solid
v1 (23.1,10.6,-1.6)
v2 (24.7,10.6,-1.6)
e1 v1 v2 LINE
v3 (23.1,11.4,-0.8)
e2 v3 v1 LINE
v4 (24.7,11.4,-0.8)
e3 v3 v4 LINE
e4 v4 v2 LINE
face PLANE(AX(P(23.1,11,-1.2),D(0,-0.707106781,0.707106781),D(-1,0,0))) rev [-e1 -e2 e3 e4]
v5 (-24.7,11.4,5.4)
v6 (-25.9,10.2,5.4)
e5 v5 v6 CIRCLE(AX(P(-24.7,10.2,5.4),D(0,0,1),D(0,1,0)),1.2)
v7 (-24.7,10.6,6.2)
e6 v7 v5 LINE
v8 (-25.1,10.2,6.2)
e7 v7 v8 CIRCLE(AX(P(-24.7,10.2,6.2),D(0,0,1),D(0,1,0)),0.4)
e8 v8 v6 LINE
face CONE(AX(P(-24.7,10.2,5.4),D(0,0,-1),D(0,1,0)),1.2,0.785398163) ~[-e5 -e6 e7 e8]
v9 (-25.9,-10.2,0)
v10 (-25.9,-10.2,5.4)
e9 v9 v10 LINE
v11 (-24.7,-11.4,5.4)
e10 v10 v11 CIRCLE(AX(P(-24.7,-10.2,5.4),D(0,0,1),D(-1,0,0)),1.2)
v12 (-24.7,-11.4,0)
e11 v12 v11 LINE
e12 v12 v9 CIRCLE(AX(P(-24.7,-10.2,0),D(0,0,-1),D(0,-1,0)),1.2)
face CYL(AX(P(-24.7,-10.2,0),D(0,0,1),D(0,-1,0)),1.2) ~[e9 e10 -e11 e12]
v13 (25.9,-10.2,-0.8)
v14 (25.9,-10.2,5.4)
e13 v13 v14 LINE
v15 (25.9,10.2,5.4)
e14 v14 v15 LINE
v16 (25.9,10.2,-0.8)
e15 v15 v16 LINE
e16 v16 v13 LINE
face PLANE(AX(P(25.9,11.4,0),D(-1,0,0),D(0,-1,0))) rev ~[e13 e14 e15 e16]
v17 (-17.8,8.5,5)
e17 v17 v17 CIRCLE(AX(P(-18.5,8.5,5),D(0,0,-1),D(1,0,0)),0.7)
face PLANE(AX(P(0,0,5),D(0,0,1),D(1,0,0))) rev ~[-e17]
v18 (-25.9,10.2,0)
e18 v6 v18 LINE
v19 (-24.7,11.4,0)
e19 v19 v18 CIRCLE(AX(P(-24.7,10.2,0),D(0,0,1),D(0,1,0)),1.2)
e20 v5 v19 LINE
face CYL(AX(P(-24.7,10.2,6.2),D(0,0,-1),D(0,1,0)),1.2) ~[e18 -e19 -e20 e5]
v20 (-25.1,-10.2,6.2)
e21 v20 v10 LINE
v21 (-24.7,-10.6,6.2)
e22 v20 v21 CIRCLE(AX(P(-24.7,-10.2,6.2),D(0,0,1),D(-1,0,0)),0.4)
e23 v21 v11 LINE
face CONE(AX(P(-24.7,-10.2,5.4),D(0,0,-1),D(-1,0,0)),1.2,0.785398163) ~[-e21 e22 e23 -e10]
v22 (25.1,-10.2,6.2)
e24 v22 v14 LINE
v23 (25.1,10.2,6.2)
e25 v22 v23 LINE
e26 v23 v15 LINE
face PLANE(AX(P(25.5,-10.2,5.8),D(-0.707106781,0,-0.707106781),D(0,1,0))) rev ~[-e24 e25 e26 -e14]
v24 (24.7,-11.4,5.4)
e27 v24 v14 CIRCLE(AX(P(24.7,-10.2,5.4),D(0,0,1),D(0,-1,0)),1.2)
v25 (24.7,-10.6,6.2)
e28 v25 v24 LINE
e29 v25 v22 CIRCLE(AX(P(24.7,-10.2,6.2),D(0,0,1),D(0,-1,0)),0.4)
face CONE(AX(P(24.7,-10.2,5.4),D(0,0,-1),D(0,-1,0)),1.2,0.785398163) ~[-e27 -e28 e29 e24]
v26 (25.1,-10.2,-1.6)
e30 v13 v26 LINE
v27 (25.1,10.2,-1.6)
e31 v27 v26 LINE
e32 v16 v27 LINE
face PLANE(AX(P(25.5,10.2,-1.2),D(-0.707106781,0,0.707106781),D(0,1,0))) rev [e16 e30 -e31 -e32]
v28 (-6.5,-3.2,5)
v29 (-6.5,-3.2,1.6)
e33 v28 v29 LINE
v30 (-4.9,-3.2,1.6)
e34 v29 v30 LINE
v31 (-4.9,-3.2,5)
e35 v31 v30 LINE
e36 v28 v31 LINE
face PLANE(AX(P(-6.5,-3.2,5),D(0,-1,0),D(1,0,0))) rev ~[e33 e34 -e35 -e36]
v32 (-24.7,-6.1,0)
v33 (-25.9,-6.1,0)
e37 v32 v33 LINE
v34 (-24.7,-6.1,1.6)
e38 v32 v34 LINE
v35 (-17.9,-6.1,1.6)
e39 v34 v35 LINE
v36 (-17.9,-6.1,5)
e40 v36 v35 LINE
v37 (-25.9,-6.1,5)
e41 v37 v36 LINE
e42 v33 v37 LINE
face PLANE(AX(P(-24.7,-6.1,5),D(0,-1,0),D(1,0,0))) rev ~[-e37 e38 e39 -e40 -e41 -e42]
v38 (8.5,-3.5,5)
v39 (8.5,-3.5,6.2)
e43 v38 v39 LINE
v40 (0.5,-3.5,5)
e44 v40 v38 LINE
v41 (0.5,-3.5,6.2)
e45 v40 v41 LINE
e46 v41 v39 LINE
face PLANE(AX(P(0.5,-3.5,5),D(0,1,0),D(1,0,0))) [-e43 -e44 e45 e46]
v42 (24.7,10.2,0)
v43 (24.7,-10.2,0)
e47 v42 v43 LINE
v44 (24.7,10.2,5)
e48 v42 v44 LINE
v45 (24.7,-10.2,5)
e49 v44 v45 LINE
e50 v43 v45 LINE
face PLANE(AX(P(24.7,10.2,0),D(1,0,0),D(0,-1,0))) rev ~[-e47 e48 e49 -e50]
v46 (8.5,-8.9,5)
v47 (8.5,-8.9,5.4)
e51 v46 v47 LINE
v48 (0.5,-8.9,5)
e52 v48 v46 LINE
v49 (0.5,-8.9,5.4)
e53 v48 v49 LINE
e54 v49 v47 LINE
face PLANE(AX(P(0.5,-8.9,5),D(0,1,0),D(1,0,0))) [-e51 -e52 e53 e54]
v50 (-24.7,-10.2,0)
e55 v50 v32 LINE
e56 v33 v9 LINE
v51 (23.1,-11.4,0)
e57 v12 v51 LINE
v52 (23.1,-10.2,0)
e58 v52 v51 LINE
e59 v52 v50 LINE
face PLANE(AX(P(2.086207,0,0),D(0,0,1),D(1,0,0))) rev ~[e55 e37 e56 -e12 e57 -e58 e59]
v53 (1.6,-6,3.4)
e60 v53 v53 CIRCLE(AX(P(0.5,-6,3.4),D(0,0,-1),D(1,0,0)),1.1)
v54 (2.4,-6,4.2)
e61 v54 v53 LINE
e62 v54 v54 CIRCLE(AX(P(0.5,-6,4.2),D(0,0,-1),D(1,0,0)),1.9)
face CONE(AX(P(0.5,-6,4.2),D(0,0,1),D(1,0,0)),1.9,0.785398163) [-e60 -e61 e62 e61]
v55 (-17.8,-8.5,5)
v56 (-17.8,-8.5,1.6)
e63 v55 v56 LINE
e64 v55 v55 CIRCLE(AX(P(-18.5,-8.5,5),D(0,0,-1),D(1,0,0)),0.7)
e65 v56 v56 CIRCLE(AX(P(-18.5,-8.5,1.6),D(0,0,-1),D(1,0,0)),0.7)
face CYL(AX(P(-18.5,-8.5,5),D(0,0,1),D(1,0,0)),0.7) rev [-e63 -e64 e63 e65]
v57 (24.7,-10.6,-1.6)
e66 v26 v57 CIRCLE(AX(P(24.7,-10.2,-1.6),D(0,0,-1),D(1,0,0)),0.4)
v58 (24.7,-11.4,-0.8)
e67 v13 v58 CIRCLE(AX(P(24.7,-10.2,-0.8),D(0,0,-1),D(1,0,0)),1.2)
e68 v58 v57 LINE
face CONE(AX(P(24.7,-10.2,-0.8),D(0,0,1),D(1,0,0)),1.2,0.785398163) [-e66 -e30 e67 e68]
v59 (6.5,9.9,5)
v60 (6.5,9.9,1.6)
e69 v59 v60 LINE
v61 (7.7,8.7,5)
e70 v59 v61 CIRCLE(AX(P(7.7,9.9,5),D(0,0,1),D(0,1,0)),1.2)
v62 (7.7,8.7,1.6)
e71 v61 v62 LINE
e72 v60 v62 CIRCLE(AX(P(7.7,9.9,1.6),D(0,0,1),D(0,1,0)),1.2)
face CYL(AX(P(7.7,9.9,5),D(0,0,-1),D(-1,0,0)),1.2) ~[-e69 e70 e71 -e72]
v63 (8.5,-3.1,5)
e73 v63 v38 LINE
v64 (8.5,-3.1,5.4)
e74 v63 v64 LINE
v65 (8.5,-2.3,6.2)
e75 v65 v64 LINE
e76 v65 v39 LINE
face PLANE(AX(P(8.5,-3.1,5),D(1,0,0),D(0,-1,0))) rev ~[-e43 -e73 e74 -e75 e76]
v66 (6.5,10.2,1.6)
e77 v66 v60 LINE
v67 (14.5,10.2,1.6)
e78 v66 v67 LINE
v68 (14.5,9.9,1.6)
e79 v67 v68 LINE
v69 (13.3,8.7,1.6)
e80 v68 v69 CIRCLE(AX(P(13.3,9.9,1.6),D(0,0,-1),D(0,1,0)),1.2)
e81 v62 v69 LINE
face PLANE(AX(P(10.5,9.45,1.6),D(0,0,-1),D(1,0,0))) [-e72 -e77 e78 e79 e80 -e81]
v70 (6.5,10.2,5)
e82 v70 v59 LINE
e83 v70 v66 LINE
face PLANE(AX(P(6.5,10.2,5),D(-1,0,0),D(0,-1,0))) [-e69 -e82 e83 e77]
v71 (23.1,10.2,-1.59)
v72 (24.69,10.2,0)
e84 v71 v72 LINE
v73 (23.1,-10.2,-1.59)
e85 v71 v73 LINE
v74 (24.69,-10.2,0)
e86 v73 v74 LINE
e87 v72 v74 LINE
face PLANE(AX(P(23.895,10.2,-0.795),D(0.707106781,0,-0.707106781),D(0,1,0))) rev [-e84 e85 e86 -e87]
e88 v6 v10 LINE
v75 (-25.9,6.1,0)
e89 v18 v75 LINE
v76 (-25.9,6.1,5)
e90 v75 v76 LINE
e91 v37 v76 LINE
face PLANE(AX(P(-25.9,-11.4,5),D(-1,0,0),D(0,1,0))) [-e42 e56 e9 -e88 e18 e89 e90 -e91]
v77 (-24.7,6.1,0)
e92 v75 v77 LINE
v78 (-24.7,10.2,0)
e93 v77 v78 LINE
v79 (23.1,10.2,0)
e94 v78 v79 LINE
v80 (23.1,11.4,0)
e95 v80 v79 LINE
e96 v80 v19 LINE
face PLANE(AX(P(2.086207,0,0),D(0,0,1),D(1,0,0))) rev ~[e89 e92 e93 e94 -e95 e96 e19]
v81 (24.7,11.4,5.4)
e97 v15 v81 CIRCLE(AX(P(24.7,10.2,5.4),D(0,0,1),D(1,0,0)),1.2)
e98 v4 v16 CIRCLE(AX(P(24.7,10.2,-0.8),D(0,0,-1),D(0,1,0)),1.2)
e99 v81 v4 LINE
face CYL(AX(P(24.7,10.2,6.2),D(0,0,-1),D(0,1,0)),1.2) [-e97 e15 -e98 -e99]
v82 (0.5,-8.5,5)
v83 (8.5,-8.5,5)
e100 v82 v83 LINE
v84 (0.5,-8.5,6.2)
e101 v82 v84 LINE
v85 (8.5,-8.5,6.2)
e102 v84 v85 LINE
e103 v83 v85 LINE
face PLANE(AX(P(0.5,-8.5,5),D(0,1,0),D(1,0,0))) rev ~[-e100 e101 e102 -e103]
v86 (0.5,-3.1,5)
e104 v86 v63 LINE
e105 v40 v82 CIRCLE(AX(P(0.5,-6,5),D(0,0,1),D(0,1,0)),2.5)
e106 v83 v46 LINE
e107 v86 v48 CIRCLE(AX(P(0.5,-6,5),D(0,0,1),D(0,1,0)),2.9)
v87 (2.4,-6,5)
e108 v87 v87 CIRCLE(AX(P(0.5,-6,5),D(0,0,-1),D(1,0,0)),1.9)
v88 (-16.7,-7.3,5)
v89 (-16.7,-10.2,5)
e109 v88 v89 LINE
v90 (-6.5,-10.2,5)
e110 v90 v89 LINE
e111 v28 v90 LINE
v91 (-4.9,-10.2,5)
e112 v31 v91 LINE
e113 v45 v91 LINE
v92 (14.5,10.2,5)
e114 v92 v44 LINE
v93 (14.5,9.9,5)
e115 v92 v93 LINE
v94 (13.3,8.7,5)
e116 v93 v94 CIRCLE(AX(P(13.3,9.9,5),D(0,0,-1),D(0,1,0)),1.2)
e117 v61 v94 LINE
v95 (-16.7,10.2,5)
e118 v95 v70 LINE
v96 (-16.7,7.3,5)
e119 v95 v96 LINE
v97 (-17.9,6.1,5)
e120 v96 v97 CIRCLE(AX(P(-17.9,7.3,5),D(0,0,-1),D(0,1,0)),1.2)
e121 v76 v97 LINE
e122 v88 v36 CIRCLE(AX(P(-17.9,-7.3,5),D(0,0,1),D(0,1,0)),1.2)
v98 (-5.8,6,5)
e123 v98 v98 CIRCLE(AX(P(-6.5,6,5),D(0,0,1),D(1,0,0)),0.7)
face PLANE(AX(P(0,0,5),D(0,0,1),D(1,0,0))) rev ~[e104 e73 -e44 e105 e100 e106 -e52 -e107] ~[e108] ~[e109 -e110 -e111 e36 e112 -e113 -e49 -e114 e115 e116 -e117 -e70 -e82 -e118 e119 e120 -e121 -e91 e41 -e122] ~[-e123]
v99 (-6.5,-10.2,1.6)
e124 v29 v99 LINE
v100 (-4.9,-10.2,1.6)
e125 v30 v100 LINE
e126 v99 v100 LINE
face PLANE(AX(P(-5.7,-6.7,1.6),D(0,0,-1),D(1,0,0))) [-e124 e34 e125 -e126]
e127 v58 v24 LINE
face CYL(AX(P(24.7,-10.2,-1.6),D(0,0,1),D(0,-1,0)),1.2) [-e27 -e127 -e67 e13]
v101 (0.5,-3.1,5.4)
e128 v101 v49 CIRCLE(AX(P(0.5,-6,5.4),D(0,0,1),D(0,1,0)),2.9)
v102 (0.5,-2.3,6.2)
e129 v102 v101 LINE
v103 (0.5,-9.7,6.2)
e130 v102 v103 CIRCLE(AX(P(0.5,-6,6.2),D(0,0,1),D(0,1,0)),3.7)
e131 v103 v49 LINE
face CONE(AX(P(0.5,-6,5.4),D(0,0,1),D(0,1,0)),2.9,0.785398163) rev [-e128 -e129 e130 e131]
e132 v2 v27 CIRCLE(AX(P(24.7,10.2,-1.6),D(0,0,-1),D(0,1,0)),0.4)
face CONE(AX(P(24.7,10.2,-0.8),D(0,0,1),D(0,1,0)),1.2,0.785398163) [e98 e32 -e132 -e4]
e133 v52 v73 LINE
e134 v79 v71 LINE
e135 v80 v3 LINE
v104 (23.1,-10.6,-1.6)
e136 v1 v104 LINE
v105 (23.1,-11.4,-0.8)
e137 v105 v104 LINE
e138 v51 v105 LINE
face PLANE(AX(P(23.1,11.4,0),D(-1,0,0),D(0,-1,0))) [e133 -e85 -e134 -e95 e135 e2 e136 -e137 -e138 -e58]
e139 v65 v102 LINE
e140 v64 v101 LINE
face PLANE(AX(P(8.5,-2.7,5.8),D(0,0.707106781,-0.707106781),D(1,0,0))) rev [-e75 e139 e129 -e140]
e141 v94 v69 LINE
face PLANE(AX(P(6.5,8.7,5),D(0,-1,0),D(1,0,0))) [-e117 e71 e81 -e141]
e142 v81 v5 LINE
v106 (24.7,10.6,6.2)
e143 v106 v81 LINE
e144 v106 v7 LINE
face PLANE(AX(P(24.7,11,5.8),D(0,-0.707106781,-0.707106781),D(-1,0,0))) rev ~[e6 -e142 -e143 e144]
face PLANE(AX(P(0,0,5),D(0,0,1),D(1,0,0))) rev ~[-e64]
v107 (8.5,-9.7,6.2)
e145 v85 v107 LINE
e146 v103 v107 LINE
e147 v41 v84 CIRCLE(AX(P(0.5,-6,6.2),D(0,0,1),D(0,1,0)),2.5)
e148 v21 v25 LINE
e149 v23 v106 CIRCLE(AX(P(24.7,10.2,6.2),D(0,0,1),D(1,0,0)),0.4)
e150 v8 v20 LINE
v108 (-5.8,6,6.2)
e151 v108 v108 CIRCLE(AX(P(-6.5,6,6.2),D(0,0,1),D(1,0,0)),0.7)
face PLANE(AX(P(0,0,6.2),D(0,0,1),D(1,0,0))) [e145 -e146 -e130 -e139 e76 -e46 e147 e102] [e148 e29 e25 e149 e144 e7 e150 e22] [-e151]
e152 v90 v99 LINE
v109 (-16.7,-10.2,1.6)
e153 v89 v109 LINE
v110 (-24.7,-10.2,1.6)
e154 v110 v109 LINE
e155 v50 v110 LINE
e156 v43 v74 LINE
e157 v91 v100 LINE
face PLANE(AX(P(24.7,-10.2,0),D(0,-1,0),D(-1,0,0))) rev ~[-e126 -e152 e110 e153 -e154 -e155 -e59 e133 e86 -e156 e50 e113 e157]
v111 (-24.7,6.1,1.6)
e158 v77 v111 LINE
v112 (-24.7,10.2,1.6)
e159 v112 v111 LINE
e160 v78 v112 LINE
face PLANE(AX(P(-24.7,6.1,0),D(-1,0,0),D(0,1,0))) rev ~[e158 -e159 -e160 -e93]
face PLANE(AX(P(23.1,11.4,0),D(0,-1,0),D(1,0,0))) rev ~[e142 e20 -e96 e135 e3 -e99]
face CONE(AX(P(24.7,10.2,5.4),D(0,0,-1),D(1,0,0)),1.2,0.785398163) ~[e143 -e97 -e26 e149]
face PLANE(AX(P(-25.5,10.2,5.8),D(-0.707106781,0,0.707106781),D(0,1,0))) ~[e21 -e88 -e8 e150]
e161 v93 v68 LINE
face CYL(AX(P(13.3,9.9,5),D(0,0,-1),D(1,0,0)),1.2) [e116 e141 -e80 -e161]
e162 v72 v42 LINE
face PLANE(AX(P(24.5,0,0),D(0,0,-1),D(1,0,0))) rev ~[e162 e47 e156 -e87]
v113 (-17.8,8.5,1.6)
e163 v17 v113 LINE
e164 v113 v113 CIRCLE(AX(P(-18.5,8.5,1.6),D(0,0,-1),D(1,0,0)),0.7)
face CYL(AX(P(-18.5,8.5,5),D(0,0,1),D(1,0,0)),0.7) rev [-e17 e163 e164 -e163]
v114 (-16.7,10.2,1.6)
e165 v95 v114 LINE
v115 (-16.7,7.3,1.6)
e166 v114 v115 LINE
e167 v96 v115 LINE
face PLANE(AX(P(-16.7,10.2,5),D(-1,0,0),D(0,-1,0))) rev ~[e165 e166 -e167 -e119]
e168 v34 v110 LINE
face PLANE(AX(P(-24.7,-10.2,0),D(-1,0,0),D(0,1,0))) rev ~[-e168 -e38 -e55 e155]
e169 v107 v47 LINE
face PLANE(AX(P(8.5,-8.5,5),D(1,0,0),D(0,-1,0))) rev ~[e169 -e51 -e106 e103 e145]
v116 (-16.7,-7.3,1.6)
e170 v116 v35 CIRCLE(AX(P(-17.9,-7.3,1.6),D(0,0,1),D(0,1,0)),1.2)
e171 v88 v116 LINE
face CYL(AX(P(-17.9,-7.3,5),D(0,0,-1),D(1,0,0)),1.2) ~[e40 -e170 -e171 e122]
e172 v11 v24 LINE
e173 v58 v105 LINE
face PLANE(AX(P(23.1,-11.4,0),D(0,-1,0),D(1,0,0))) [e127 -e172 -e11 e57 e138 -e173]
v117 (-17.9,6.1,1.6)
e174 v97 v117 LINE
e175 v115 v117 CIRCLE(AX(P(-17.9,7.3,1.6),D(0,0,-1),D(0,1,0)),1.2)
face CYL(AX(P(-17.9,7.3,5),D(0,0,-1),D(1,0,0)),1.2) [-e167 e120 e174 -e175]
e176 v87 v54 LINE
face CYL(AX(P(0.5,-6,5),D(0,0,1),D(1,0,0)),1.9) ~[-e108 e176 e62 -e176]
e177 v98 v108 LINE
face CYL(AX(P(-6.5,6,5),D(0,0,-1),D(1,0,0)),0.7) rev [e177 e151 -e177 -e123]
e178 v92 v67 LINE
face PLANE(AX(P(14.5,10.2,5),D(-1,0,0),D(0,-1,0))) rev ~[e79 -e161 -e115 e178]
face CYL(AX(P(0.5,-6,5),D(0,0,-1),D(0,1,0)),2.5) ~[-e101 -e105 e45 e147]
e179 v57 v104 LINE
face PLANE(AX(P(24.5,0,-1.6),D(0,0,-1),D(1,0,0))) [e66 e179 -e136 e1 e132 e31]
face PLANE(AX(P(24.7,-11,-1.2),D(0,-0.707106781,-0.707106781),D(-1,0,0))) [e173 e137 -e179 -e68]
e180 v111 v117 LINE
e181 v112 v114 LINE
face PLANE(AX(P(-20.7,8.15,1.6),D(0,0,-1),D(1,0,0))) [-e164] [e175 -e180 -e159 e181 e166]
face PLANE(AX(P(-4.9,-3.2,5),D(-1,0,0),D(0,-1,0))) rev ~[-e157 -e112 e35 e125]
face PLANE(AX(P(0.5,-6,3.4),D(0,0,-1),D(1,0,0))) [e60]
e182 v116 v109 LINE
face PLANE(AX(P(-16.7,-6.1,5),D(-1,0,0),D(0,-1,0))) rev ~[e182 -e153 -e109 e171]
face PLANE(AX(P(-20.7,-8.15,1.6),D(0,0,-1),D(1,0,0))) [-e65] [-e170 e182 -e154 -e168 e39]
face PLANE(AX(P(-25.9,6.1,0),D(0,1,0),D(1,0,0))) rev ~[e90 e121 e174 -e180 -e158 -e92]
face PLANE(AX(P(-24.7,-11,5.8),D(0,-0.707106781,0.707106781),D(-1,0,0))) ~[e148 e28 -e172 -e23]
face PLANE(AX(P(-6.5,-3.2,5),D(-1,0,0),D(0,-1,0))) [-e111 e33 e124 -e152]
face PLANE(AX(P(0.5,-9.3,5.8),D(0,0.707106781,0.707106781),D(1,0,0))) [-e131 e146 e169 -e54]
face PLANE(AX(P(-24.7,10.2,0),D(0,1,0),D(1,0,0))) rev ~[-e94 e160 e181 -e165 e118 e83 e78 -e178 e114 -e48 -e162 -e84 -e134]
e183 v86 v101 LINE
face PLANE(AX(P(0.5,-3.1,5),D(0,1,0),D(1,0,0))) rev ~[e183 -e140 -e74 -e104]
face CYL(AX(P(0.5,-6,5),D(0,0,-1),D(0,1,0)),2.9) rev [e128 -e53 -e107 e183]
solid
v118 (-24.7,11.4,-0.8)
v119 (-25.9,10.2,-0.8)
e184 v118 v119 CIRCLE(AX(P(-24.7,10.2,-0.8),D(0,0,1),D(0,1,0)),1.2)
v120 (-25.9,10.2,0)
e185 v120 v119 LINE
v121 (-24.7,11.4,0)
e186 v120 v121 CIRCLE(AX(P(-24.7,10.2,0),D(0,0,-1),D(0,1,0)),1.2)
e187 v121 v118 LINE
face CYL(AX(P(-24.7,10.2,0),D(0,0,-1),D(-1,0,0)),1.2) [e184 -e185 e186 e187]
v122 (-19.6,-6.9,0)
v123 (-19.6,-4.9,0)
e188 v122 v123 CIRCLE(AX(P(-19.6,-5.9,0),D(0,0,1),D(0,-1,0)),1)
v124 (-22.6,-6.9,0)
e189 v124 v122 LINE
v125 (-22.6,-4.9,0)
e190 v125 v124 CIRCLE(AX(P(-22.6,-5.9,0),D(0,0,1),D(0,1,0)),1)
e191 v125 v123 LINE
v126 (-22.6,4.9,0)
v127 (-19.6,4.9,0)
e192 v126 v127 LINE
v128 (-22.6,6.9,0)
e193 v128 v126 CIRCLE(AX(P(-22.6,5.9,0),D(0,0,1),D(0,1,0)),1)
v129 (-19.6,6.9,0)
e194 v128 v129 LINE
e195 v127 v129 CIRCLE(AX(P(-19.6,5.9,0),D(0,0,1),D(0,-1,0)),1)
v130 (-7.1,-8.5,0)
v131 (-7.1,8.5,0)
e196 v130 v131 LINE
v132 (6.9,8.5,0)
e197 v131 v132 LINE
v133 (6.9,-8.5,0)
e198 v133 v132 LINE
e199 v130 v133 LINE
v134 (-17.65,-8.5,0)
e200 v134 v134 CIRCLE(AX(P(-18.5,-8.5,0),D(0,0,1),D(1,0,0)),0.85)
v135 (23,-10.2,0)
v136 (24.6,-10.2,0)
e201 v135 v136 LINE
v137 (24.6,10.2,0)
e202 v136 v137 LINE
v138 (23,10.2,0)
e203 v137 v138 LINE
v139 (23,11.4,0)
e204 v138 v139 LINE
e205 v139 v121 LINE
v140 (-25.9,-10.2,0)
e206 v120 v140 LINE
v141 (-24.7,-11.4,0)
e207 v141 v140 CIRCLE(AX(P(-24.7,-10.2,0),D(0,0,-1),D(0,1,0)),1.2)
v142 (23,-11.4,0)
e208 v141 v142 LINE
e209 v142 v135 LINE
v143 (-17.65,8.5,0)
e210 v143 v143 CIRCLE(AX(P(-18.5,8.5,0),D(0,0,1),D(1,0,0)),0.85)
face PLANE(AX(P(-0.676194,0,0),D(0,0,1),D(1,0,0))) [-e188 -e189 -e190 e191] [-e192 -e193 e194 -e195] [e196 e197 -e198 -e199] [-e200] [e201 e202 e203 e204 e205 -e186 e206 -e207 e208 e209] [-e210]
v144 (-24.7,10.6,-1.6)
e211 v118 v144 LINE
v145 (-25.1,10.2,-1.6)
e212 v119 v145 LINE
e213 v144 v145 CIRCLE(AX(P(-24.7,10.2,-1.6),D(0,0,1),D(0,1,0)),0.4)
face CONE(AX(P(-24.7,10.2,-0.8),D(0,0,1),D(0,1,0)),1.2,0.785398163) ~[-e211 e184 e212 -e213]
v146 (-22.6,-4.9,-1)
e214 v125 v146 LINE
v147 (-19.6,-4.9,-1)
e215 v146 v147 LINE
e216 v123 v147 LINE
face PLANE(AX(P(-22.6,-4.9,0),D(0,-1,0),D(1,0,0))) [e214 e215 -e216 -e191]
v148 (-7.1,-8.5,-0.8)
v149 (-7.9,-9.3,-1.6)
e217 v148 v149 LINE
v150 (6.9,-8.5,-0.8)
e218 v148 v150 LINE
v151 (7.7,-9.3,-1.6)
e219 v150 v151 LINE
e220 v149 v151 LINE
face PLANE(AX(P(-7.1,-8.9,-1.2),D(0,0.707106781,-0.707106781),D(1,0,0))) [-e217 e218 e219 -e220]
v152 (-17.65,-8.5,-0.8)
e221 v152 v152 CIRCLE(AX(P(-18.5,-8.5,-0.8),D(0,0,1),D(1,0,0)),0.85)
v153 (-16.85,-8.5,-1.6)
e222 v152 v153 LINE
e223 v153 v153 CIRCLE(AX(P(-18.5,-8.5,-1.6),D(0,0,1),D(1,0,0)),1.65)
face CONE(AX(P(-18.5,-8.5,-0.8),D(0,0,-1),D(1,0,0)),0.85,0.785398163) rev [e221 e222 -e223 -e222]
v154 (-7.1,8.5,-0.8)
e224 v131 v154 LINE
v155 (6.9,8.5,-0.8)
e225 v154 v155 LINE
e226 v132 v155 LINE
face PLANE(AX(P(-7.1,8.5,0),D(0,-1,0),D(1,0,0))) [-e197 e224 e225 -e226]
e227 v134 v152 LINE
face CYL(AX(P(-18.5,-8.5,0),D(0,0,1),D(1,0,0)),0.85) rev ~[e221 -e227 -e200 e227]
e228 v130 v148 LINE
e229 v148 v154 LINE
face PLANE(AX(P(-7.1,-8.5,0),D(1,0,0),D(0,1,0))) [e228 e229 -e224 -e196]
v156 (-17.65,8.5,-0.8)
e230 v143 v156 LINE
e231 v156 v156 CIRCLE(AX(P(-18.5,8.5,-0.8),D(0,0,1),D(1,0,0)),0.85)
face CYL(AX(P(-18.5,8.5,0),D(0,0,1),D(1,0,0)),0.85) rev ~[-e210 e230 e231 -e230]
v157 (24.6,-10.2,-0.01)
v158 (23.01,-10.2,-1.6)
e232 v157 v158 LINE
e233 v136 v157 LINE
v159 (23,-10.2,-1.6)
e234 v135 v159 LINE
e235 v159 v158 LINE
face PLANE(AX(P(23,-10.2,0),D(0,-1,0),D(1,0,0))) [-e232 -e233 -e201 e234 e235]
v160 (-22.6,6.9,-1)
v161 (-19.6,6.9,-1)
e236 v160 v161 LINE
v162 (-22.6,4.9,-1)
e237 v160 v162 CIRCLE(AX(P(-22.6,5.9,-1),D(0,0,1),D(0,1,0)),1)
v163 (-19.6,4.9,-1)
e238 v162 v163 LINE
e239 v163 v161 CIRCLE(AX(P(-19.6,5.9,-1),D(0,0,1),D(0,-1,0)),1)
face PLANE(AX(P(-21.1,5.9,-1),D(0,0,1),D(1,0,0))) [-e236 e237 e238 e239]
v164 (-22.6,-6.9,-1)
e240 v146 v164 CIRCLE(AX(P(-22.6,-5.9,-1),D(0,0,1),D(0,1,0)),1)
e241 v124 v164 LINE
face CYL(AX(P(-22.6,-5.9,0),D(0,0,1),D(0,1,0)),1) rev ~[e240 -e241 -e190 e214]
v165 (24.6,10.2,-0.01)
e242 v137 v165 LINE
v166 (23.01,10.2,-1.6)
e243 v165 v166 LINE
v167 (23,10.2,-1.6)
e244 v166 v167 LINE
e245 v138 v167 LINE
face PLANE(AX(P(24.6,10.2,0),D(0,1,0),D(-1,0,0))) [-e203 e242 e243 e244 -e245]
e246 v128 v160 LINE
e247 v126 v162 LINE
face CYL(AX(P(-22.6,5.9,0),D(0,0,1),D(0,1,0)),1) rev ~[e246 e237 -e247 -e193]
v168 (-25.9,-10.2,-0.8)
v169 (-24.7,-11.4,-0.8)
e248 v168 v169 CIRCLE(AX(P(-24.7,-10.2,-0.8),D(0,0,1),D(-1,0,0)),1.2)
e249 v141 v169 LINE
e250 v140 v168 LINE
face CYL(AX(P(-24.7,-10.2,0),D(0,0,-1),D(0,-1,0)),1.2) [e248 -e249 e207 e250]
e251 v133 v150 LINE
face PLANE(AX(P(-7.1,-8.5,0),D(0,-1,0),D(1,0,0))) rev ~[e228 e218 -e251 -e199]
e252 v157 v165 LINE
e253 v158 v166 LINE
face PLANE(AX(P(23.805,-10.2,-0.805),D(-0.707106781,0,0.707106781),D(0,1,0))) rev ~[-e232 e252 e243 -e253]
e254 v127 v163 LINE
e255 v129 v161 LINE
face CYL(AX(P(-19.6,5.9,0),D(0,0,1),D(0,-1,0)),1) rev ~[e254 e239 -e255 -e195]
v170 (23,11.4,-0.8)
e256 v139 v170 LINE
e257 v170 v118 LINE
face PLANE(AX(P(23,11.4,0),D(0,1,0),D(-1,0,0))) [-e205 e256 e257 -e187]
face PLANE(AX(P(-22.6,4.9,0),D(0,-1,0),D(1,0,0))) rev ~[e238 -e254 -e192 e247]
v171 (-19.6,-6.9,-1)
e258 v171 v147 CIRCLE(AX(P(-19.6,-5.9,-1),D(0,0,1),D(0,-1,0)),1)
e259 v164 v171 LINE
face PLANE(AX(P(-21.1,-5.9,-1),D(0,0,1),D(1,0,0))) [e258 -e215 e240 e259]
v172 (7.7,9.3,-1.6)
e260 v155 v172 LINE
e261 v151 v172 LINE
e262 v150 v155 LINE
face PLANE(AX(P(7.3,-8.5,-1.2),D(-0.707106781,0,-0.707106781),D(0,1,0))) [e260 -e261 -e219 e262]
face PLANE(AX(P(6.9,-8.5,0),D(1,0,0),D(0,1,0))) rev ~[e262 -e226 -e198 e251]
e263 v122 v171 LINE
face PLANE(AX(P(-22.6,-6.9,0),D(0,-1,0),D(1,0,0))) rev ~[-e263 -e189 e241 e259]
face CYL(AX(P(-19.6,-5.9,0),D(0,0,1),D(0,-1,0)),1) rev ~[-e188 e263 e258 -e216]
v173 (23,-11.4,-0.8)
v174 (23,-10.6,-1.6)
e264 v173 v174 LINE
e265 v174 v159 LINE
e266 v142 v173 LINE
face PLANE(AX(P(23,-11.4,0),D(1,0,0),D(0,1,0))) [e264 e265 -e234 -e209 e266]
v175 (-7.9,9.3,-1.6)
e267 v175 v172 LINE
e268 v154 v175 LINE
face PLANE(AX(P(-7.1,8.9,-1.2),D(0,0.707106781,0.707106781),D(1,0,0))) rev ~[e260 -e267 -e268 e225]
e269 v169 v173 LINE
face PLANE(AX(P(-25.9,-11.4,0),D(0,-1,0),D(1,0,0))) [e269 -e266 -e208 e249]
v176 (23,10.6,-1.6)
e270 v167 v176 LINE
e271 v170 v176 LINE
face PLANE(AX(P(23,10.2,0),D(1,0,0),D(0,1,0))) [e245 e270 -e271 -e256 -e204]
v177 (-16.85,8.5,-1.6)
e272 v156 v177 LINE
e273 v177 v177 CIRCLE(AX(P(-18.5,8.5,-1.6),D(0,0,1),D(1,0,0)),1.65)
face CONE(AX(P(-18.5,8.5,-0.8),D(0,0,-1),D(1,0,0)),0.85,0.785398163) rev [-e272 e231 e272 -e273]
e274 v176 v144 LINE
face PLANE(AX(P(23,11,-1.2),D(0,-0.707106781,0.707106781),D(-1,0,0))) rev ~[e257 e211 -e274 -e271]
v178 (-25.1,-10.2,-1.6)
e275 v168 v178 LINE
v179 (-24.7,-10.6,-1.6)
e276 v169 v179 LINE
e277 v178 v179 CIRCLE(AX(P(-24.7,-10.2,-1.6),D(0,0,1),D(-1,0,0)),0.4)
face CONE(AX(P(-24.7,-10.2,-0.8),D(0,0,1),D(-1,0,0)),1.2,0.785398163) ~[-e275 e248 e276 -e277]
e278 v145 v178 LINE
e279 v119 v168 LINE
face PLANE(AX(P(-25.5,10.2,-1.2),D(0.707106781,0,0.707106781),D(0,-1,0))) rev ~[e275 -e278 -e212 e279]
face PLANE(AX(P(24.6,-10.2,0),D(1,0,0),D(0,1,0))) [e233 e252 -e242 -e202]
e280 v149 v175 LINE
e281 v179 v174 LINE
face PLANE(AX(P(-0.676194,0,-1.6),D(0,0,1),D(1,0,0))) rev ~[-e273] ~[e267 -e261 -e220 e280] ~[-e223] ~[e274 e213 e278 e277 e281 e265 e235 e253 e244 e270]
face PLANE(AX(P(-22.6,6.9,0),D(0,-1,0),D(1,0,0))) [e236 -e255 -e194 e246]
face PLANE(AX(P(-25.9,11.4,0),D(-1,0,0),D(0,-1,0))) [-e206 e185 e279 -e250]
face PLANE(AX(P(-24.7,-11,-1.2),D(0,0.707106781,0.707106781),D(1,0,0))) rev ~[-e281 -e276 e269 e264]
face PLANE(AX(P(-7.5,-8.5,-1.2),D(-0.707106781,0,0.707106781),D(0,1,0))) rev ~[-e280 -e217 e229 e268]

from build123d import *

# Parameters (mm, degrees)
PAD_DEPTH       = 5
SKETCH001_W     = 51.8
SKETCH001_H     = 22.8
SKETCH001_R     = 0.7
PAD001_DEPTH    = 1.2
SKETCH002_W     = 8
SKETCH002_H     = 4.1
SKETCH002_R     = 0.7
SKETCH002_H_2   = 1.5
SKETCH002_W_2   = 1.6
SKETCH002_H_3   = 7
PAD002_DEPTH    = 3.4
SKETCH003_R     = 1.9
PAD003_DEPTH    = 1.6
SKETCH004_W     = 2.8
SKETCH004_H     = 22.8
PAD004_DEPTH    = 1.6
CHAMFER_SIZE    = 1.59
FILLET001_R     = 1.2
CHAMFER003_SIZE = 0.8
SKETCH005_R     = 0.85
SKETCH005_W     = 14
SKETCH005_H     = 17
PAD005_DEPTH    = 1.6
CHAMFER001_SIZE = 1.59
POCKET_DEPTH    = 1
FILLET_R        = 1.2
CHAMFER004_SIZE = 0.8


with BuildPart() as hat:
    # Sketch → Pad (new body)
    with BuildSketch(Plane.XY):
        Polygon((-25.9, 6.1), (-24.7, 6.1), (-24.7, 10.2), (24.7, 10.2), (24.7, -10.2), (-24.7, -10.2), (-24.7, -6.1), (-25.9, -6.1), (-25.9, -11.4), (25.9, -11.4), (25.9, 11.4), (-25.9, 11.4), align=None)
    extrude(amount=PAD_DEPTH)

    # Sketch001 (on Face14 of Pad) → Pad001 (join)
    with BuildSketch(Plane.XY.offset(5)):
        Rectangle(SKETCH001_W, SKETCH001_H)
        with Locations((-6.5, 6)):
            Circle(SKETCH001_R, mode=Mode.SUBTRACT)
        with BuildLine():
            ThreePointArc((0.5, -3.5), (-2, -6), (0.5, -8.5))
            Line((0.5, -8.5), (8.5, -8.5))
            Line((8.5, -8.5), (8.5, -8.9))
            Line((0.5, -8.9), (8.5, -8.9))
            ThreePointArc((0.5, -3.1), (-2.4, -6), (0.5, -8.9))
            Line((0.5, -3.1), (8.5, -3.1))
            Line((8.5, -3.1), (8.5, -3.5))
            Line((0.5, -3.5), (8.5, -3.5))
        make_face(mode=Mode.SUBTRACT)
    extrude(amount=PAD001_DEPTH)

    # Sketch002 (on Face4 of Pad001) → Pad002 (join)
    with BuildSketch(Plane(origin=(0, 0, 5), x_dir=(1, 0, 0), z_dir=(0, 0, -1))):
        with Locations((-20.7, 8.15)):
            Rectangle(SKETCH002_W, SKETCH002_H)
        with Locations((-18.5, 8.5)):
            Circle(SKETCH002_R, mode=Mode.SUBTRACT)
        with Locations((-20.7, -8.15)):
            Rectangle(SKETCH002_W, SKETCH002_H)
        with Locations((-18.5, -8.5)):
            Circle(SKETCH002_R, mode=Mode.SUBTRACT)
        with Locations((10.5, -9.45)):
            Rectangle(SKETCH002_W, SKETCH002_H_2)
        with Locations((-5.7, 6.7)):
            Rectangle(SKETCH002_W_2, SKETCH002_H_3)
    extrude(amount=PAD002_DEPTH)

    # Sketch003 (on Face4 of Pad002) → Pad003 (join)
    with BuildSketch(Plane(origin=(0, 0, 5), x_dir=(1, 0, 0), z_dir=(0, 0, -1))):
        with Locations((0.5, 6)):
            Circle(SKETCH003_R)
    extrude(amount=PAD003_DEPTH)

    # Sketch004 (on Face2 of Pad003) → Pad004 (join)
    with BuildSketch(Plane(origin=(0, 0, 0), x_dir=(1, 0, 0), z_dir=(0, 0, -1))):
        with Locations((24.5, 0)):
            Rectangle(SKETCH004_W, SKETCH004_H)
    extrude(amount=PAD004_DEPTH)

    # Chamfer
    chamfer_edges = [hat.edges().sort_by_distance(p)[0] for p in [
        (23.1, 0, 0),
    ]]
    chamfer(chamfer_edges, length=CHAMFER_SIZE)

    # Fillet001
    fillet001_edges = [hat.edges().sort_by_distance(p)[0] for p in [
        (-25.9, 11.4, 3.1),
        (25.9, 11.4, 2.3),
        (25.9, -11.4, 2.3),
        (-25.9, -11.4, 3.1),
        (-16.7, -6.1, 3.3),
        (-16.7, 6.1, 3.3),
        (6.5, 8.7, 3.3),
        (14.5, 8.7, 3.3),
    ]]
    fillet(fillet001_edges, radius=FILLET001_R)

    # Chamfer003
    chamfer003_edges = [hat.edges().sort_by_distance(p)[0] for p in [
        (0, -11.4, 6.2),
        (-25.548528, -11.048528, 6.2),
        (-25.9, 0, 6.2),
        (-25.548528, 11.048528, 6.2),
        (0, 11.4, 6.2),
        (25.548528, 11.048528, 6.2),
        (25.9, 0, 6.2),
        (25.548528, -11.048528, 6.2),
        (4.5, -8.9, 6.2),
        (-2.4, -6, 6.2),
        (4.5, -3.1, 6.2),
        (23.9, 11.4, -1.6),
        (25.548528, 11.048528, -1.6),
        (25.9, 0, -1.6),
        (23.9, -11.4, -1.6),
        (25.548528, -11.048528, -1.6),
        (-1.4, -6, 3.4),
    ]]
    chamfer(chamfer003_edges, length=CHAMFER003_SIZE)


with BuildPart() as plate:
    # Sketch005 → Pad005 (new body)
    with BuildSketch(Plane.XY):
        Polygon((-25.9, -11.4), (23, -11.4), (23, -10.2), (24.6, -10.2), (24.6, 10.2), (23, 10.2), (23, 11.4), (-25.9, 11.4), align=None)
        with Locations((-18.5, 8.5)):
            Circle(SKETCH005_R, mode=Mode.SUBTRACT)
        with Locations((-18.5, -8.5)):
            Circle(SKETCH005_R, mode=Mode.SUBTRACT)
        with Locations((-0.1, 0)):
            Rectangle(SKETCH005_W, SKETCH005_H, mode=Mode.SUBTRACT)
    extrude(amount=-PAD005_DEPTH)

    # Chamfer001
    chamfer001_edges = [plate.edges().sort_by_distance(p)[0] for p in [
        (24.6, 0, -1.6),
    ]]
    chamfer(chamfer001_edges, length=CHAMFER001_SIZE)

    # Sketch006 (on Face4 of Chamfer001) → Pocket (cut)
    with BuildSketch(Plane.XY):
        with BuildLine():
            ThreePointArc((-22.6, 6.9), (-23.6, 5.9), (-22.6, 4.9))
            Line((-22.6, 4.9), (-19.6, 4.9))
            ThreePointArc((-19.6, 4.9), (-18.6, 5.9), (-19.6, 6.9))
            Line((-22.6, 6.9), (-19.6, 6.9))
        make_face()
        with BuildLine():
            ThreePointArc((-22.6, -4.9), (-23.6, -5.9), (-22.6, -6.9))
            Line((-22.6, -6.9), (-19.6, -6.9))
            ThreePointArc((-19.6, -6.9), (-18.6, -5.9), (-19.6, -4.9))
            Line((-22.6, -4.9), (-19.6, -4.9))
        make_face()
    extrude(amount=-POCKET_DEPTH, mode=Mode.SUBTRACT)

    # Fillet
    fillet_edges = [plate.edges().sort_by_distance(p)[0] for p in [
        (-25.9, -11.4, -0.8),
        (-25.9, 11.4, -0.8),
    ]]
    fillet(fillet_edges, radius=FILLET_R)

    # Chamfer004
    chamfer004_edges = [plate.edges().sort_by_distance(p)[0] for p in [
        (-0.85, -11.4, -1.6),
        (-25.9, 0, -1.6),
        (-25.548528, -11.048528, -1.6),
        (-25.548528, 11.048528, -1.6),
        (-0.85, 11.4, -1.6),
        (-0.1, 8.5, -1.6),
        (6.9, 0, -1.6),
        (-7.1, 0, -1.6),
        (-0.1, -8.5, -1.6),
        (-19.35, -8.5, -1.6),
        (-19.35, 8.5, -1.6),
    ]]
    chamfer(chamfer004_edges, length=CHAMFER004_SIZE)


solid = Compound([hat.part, plate.part])
